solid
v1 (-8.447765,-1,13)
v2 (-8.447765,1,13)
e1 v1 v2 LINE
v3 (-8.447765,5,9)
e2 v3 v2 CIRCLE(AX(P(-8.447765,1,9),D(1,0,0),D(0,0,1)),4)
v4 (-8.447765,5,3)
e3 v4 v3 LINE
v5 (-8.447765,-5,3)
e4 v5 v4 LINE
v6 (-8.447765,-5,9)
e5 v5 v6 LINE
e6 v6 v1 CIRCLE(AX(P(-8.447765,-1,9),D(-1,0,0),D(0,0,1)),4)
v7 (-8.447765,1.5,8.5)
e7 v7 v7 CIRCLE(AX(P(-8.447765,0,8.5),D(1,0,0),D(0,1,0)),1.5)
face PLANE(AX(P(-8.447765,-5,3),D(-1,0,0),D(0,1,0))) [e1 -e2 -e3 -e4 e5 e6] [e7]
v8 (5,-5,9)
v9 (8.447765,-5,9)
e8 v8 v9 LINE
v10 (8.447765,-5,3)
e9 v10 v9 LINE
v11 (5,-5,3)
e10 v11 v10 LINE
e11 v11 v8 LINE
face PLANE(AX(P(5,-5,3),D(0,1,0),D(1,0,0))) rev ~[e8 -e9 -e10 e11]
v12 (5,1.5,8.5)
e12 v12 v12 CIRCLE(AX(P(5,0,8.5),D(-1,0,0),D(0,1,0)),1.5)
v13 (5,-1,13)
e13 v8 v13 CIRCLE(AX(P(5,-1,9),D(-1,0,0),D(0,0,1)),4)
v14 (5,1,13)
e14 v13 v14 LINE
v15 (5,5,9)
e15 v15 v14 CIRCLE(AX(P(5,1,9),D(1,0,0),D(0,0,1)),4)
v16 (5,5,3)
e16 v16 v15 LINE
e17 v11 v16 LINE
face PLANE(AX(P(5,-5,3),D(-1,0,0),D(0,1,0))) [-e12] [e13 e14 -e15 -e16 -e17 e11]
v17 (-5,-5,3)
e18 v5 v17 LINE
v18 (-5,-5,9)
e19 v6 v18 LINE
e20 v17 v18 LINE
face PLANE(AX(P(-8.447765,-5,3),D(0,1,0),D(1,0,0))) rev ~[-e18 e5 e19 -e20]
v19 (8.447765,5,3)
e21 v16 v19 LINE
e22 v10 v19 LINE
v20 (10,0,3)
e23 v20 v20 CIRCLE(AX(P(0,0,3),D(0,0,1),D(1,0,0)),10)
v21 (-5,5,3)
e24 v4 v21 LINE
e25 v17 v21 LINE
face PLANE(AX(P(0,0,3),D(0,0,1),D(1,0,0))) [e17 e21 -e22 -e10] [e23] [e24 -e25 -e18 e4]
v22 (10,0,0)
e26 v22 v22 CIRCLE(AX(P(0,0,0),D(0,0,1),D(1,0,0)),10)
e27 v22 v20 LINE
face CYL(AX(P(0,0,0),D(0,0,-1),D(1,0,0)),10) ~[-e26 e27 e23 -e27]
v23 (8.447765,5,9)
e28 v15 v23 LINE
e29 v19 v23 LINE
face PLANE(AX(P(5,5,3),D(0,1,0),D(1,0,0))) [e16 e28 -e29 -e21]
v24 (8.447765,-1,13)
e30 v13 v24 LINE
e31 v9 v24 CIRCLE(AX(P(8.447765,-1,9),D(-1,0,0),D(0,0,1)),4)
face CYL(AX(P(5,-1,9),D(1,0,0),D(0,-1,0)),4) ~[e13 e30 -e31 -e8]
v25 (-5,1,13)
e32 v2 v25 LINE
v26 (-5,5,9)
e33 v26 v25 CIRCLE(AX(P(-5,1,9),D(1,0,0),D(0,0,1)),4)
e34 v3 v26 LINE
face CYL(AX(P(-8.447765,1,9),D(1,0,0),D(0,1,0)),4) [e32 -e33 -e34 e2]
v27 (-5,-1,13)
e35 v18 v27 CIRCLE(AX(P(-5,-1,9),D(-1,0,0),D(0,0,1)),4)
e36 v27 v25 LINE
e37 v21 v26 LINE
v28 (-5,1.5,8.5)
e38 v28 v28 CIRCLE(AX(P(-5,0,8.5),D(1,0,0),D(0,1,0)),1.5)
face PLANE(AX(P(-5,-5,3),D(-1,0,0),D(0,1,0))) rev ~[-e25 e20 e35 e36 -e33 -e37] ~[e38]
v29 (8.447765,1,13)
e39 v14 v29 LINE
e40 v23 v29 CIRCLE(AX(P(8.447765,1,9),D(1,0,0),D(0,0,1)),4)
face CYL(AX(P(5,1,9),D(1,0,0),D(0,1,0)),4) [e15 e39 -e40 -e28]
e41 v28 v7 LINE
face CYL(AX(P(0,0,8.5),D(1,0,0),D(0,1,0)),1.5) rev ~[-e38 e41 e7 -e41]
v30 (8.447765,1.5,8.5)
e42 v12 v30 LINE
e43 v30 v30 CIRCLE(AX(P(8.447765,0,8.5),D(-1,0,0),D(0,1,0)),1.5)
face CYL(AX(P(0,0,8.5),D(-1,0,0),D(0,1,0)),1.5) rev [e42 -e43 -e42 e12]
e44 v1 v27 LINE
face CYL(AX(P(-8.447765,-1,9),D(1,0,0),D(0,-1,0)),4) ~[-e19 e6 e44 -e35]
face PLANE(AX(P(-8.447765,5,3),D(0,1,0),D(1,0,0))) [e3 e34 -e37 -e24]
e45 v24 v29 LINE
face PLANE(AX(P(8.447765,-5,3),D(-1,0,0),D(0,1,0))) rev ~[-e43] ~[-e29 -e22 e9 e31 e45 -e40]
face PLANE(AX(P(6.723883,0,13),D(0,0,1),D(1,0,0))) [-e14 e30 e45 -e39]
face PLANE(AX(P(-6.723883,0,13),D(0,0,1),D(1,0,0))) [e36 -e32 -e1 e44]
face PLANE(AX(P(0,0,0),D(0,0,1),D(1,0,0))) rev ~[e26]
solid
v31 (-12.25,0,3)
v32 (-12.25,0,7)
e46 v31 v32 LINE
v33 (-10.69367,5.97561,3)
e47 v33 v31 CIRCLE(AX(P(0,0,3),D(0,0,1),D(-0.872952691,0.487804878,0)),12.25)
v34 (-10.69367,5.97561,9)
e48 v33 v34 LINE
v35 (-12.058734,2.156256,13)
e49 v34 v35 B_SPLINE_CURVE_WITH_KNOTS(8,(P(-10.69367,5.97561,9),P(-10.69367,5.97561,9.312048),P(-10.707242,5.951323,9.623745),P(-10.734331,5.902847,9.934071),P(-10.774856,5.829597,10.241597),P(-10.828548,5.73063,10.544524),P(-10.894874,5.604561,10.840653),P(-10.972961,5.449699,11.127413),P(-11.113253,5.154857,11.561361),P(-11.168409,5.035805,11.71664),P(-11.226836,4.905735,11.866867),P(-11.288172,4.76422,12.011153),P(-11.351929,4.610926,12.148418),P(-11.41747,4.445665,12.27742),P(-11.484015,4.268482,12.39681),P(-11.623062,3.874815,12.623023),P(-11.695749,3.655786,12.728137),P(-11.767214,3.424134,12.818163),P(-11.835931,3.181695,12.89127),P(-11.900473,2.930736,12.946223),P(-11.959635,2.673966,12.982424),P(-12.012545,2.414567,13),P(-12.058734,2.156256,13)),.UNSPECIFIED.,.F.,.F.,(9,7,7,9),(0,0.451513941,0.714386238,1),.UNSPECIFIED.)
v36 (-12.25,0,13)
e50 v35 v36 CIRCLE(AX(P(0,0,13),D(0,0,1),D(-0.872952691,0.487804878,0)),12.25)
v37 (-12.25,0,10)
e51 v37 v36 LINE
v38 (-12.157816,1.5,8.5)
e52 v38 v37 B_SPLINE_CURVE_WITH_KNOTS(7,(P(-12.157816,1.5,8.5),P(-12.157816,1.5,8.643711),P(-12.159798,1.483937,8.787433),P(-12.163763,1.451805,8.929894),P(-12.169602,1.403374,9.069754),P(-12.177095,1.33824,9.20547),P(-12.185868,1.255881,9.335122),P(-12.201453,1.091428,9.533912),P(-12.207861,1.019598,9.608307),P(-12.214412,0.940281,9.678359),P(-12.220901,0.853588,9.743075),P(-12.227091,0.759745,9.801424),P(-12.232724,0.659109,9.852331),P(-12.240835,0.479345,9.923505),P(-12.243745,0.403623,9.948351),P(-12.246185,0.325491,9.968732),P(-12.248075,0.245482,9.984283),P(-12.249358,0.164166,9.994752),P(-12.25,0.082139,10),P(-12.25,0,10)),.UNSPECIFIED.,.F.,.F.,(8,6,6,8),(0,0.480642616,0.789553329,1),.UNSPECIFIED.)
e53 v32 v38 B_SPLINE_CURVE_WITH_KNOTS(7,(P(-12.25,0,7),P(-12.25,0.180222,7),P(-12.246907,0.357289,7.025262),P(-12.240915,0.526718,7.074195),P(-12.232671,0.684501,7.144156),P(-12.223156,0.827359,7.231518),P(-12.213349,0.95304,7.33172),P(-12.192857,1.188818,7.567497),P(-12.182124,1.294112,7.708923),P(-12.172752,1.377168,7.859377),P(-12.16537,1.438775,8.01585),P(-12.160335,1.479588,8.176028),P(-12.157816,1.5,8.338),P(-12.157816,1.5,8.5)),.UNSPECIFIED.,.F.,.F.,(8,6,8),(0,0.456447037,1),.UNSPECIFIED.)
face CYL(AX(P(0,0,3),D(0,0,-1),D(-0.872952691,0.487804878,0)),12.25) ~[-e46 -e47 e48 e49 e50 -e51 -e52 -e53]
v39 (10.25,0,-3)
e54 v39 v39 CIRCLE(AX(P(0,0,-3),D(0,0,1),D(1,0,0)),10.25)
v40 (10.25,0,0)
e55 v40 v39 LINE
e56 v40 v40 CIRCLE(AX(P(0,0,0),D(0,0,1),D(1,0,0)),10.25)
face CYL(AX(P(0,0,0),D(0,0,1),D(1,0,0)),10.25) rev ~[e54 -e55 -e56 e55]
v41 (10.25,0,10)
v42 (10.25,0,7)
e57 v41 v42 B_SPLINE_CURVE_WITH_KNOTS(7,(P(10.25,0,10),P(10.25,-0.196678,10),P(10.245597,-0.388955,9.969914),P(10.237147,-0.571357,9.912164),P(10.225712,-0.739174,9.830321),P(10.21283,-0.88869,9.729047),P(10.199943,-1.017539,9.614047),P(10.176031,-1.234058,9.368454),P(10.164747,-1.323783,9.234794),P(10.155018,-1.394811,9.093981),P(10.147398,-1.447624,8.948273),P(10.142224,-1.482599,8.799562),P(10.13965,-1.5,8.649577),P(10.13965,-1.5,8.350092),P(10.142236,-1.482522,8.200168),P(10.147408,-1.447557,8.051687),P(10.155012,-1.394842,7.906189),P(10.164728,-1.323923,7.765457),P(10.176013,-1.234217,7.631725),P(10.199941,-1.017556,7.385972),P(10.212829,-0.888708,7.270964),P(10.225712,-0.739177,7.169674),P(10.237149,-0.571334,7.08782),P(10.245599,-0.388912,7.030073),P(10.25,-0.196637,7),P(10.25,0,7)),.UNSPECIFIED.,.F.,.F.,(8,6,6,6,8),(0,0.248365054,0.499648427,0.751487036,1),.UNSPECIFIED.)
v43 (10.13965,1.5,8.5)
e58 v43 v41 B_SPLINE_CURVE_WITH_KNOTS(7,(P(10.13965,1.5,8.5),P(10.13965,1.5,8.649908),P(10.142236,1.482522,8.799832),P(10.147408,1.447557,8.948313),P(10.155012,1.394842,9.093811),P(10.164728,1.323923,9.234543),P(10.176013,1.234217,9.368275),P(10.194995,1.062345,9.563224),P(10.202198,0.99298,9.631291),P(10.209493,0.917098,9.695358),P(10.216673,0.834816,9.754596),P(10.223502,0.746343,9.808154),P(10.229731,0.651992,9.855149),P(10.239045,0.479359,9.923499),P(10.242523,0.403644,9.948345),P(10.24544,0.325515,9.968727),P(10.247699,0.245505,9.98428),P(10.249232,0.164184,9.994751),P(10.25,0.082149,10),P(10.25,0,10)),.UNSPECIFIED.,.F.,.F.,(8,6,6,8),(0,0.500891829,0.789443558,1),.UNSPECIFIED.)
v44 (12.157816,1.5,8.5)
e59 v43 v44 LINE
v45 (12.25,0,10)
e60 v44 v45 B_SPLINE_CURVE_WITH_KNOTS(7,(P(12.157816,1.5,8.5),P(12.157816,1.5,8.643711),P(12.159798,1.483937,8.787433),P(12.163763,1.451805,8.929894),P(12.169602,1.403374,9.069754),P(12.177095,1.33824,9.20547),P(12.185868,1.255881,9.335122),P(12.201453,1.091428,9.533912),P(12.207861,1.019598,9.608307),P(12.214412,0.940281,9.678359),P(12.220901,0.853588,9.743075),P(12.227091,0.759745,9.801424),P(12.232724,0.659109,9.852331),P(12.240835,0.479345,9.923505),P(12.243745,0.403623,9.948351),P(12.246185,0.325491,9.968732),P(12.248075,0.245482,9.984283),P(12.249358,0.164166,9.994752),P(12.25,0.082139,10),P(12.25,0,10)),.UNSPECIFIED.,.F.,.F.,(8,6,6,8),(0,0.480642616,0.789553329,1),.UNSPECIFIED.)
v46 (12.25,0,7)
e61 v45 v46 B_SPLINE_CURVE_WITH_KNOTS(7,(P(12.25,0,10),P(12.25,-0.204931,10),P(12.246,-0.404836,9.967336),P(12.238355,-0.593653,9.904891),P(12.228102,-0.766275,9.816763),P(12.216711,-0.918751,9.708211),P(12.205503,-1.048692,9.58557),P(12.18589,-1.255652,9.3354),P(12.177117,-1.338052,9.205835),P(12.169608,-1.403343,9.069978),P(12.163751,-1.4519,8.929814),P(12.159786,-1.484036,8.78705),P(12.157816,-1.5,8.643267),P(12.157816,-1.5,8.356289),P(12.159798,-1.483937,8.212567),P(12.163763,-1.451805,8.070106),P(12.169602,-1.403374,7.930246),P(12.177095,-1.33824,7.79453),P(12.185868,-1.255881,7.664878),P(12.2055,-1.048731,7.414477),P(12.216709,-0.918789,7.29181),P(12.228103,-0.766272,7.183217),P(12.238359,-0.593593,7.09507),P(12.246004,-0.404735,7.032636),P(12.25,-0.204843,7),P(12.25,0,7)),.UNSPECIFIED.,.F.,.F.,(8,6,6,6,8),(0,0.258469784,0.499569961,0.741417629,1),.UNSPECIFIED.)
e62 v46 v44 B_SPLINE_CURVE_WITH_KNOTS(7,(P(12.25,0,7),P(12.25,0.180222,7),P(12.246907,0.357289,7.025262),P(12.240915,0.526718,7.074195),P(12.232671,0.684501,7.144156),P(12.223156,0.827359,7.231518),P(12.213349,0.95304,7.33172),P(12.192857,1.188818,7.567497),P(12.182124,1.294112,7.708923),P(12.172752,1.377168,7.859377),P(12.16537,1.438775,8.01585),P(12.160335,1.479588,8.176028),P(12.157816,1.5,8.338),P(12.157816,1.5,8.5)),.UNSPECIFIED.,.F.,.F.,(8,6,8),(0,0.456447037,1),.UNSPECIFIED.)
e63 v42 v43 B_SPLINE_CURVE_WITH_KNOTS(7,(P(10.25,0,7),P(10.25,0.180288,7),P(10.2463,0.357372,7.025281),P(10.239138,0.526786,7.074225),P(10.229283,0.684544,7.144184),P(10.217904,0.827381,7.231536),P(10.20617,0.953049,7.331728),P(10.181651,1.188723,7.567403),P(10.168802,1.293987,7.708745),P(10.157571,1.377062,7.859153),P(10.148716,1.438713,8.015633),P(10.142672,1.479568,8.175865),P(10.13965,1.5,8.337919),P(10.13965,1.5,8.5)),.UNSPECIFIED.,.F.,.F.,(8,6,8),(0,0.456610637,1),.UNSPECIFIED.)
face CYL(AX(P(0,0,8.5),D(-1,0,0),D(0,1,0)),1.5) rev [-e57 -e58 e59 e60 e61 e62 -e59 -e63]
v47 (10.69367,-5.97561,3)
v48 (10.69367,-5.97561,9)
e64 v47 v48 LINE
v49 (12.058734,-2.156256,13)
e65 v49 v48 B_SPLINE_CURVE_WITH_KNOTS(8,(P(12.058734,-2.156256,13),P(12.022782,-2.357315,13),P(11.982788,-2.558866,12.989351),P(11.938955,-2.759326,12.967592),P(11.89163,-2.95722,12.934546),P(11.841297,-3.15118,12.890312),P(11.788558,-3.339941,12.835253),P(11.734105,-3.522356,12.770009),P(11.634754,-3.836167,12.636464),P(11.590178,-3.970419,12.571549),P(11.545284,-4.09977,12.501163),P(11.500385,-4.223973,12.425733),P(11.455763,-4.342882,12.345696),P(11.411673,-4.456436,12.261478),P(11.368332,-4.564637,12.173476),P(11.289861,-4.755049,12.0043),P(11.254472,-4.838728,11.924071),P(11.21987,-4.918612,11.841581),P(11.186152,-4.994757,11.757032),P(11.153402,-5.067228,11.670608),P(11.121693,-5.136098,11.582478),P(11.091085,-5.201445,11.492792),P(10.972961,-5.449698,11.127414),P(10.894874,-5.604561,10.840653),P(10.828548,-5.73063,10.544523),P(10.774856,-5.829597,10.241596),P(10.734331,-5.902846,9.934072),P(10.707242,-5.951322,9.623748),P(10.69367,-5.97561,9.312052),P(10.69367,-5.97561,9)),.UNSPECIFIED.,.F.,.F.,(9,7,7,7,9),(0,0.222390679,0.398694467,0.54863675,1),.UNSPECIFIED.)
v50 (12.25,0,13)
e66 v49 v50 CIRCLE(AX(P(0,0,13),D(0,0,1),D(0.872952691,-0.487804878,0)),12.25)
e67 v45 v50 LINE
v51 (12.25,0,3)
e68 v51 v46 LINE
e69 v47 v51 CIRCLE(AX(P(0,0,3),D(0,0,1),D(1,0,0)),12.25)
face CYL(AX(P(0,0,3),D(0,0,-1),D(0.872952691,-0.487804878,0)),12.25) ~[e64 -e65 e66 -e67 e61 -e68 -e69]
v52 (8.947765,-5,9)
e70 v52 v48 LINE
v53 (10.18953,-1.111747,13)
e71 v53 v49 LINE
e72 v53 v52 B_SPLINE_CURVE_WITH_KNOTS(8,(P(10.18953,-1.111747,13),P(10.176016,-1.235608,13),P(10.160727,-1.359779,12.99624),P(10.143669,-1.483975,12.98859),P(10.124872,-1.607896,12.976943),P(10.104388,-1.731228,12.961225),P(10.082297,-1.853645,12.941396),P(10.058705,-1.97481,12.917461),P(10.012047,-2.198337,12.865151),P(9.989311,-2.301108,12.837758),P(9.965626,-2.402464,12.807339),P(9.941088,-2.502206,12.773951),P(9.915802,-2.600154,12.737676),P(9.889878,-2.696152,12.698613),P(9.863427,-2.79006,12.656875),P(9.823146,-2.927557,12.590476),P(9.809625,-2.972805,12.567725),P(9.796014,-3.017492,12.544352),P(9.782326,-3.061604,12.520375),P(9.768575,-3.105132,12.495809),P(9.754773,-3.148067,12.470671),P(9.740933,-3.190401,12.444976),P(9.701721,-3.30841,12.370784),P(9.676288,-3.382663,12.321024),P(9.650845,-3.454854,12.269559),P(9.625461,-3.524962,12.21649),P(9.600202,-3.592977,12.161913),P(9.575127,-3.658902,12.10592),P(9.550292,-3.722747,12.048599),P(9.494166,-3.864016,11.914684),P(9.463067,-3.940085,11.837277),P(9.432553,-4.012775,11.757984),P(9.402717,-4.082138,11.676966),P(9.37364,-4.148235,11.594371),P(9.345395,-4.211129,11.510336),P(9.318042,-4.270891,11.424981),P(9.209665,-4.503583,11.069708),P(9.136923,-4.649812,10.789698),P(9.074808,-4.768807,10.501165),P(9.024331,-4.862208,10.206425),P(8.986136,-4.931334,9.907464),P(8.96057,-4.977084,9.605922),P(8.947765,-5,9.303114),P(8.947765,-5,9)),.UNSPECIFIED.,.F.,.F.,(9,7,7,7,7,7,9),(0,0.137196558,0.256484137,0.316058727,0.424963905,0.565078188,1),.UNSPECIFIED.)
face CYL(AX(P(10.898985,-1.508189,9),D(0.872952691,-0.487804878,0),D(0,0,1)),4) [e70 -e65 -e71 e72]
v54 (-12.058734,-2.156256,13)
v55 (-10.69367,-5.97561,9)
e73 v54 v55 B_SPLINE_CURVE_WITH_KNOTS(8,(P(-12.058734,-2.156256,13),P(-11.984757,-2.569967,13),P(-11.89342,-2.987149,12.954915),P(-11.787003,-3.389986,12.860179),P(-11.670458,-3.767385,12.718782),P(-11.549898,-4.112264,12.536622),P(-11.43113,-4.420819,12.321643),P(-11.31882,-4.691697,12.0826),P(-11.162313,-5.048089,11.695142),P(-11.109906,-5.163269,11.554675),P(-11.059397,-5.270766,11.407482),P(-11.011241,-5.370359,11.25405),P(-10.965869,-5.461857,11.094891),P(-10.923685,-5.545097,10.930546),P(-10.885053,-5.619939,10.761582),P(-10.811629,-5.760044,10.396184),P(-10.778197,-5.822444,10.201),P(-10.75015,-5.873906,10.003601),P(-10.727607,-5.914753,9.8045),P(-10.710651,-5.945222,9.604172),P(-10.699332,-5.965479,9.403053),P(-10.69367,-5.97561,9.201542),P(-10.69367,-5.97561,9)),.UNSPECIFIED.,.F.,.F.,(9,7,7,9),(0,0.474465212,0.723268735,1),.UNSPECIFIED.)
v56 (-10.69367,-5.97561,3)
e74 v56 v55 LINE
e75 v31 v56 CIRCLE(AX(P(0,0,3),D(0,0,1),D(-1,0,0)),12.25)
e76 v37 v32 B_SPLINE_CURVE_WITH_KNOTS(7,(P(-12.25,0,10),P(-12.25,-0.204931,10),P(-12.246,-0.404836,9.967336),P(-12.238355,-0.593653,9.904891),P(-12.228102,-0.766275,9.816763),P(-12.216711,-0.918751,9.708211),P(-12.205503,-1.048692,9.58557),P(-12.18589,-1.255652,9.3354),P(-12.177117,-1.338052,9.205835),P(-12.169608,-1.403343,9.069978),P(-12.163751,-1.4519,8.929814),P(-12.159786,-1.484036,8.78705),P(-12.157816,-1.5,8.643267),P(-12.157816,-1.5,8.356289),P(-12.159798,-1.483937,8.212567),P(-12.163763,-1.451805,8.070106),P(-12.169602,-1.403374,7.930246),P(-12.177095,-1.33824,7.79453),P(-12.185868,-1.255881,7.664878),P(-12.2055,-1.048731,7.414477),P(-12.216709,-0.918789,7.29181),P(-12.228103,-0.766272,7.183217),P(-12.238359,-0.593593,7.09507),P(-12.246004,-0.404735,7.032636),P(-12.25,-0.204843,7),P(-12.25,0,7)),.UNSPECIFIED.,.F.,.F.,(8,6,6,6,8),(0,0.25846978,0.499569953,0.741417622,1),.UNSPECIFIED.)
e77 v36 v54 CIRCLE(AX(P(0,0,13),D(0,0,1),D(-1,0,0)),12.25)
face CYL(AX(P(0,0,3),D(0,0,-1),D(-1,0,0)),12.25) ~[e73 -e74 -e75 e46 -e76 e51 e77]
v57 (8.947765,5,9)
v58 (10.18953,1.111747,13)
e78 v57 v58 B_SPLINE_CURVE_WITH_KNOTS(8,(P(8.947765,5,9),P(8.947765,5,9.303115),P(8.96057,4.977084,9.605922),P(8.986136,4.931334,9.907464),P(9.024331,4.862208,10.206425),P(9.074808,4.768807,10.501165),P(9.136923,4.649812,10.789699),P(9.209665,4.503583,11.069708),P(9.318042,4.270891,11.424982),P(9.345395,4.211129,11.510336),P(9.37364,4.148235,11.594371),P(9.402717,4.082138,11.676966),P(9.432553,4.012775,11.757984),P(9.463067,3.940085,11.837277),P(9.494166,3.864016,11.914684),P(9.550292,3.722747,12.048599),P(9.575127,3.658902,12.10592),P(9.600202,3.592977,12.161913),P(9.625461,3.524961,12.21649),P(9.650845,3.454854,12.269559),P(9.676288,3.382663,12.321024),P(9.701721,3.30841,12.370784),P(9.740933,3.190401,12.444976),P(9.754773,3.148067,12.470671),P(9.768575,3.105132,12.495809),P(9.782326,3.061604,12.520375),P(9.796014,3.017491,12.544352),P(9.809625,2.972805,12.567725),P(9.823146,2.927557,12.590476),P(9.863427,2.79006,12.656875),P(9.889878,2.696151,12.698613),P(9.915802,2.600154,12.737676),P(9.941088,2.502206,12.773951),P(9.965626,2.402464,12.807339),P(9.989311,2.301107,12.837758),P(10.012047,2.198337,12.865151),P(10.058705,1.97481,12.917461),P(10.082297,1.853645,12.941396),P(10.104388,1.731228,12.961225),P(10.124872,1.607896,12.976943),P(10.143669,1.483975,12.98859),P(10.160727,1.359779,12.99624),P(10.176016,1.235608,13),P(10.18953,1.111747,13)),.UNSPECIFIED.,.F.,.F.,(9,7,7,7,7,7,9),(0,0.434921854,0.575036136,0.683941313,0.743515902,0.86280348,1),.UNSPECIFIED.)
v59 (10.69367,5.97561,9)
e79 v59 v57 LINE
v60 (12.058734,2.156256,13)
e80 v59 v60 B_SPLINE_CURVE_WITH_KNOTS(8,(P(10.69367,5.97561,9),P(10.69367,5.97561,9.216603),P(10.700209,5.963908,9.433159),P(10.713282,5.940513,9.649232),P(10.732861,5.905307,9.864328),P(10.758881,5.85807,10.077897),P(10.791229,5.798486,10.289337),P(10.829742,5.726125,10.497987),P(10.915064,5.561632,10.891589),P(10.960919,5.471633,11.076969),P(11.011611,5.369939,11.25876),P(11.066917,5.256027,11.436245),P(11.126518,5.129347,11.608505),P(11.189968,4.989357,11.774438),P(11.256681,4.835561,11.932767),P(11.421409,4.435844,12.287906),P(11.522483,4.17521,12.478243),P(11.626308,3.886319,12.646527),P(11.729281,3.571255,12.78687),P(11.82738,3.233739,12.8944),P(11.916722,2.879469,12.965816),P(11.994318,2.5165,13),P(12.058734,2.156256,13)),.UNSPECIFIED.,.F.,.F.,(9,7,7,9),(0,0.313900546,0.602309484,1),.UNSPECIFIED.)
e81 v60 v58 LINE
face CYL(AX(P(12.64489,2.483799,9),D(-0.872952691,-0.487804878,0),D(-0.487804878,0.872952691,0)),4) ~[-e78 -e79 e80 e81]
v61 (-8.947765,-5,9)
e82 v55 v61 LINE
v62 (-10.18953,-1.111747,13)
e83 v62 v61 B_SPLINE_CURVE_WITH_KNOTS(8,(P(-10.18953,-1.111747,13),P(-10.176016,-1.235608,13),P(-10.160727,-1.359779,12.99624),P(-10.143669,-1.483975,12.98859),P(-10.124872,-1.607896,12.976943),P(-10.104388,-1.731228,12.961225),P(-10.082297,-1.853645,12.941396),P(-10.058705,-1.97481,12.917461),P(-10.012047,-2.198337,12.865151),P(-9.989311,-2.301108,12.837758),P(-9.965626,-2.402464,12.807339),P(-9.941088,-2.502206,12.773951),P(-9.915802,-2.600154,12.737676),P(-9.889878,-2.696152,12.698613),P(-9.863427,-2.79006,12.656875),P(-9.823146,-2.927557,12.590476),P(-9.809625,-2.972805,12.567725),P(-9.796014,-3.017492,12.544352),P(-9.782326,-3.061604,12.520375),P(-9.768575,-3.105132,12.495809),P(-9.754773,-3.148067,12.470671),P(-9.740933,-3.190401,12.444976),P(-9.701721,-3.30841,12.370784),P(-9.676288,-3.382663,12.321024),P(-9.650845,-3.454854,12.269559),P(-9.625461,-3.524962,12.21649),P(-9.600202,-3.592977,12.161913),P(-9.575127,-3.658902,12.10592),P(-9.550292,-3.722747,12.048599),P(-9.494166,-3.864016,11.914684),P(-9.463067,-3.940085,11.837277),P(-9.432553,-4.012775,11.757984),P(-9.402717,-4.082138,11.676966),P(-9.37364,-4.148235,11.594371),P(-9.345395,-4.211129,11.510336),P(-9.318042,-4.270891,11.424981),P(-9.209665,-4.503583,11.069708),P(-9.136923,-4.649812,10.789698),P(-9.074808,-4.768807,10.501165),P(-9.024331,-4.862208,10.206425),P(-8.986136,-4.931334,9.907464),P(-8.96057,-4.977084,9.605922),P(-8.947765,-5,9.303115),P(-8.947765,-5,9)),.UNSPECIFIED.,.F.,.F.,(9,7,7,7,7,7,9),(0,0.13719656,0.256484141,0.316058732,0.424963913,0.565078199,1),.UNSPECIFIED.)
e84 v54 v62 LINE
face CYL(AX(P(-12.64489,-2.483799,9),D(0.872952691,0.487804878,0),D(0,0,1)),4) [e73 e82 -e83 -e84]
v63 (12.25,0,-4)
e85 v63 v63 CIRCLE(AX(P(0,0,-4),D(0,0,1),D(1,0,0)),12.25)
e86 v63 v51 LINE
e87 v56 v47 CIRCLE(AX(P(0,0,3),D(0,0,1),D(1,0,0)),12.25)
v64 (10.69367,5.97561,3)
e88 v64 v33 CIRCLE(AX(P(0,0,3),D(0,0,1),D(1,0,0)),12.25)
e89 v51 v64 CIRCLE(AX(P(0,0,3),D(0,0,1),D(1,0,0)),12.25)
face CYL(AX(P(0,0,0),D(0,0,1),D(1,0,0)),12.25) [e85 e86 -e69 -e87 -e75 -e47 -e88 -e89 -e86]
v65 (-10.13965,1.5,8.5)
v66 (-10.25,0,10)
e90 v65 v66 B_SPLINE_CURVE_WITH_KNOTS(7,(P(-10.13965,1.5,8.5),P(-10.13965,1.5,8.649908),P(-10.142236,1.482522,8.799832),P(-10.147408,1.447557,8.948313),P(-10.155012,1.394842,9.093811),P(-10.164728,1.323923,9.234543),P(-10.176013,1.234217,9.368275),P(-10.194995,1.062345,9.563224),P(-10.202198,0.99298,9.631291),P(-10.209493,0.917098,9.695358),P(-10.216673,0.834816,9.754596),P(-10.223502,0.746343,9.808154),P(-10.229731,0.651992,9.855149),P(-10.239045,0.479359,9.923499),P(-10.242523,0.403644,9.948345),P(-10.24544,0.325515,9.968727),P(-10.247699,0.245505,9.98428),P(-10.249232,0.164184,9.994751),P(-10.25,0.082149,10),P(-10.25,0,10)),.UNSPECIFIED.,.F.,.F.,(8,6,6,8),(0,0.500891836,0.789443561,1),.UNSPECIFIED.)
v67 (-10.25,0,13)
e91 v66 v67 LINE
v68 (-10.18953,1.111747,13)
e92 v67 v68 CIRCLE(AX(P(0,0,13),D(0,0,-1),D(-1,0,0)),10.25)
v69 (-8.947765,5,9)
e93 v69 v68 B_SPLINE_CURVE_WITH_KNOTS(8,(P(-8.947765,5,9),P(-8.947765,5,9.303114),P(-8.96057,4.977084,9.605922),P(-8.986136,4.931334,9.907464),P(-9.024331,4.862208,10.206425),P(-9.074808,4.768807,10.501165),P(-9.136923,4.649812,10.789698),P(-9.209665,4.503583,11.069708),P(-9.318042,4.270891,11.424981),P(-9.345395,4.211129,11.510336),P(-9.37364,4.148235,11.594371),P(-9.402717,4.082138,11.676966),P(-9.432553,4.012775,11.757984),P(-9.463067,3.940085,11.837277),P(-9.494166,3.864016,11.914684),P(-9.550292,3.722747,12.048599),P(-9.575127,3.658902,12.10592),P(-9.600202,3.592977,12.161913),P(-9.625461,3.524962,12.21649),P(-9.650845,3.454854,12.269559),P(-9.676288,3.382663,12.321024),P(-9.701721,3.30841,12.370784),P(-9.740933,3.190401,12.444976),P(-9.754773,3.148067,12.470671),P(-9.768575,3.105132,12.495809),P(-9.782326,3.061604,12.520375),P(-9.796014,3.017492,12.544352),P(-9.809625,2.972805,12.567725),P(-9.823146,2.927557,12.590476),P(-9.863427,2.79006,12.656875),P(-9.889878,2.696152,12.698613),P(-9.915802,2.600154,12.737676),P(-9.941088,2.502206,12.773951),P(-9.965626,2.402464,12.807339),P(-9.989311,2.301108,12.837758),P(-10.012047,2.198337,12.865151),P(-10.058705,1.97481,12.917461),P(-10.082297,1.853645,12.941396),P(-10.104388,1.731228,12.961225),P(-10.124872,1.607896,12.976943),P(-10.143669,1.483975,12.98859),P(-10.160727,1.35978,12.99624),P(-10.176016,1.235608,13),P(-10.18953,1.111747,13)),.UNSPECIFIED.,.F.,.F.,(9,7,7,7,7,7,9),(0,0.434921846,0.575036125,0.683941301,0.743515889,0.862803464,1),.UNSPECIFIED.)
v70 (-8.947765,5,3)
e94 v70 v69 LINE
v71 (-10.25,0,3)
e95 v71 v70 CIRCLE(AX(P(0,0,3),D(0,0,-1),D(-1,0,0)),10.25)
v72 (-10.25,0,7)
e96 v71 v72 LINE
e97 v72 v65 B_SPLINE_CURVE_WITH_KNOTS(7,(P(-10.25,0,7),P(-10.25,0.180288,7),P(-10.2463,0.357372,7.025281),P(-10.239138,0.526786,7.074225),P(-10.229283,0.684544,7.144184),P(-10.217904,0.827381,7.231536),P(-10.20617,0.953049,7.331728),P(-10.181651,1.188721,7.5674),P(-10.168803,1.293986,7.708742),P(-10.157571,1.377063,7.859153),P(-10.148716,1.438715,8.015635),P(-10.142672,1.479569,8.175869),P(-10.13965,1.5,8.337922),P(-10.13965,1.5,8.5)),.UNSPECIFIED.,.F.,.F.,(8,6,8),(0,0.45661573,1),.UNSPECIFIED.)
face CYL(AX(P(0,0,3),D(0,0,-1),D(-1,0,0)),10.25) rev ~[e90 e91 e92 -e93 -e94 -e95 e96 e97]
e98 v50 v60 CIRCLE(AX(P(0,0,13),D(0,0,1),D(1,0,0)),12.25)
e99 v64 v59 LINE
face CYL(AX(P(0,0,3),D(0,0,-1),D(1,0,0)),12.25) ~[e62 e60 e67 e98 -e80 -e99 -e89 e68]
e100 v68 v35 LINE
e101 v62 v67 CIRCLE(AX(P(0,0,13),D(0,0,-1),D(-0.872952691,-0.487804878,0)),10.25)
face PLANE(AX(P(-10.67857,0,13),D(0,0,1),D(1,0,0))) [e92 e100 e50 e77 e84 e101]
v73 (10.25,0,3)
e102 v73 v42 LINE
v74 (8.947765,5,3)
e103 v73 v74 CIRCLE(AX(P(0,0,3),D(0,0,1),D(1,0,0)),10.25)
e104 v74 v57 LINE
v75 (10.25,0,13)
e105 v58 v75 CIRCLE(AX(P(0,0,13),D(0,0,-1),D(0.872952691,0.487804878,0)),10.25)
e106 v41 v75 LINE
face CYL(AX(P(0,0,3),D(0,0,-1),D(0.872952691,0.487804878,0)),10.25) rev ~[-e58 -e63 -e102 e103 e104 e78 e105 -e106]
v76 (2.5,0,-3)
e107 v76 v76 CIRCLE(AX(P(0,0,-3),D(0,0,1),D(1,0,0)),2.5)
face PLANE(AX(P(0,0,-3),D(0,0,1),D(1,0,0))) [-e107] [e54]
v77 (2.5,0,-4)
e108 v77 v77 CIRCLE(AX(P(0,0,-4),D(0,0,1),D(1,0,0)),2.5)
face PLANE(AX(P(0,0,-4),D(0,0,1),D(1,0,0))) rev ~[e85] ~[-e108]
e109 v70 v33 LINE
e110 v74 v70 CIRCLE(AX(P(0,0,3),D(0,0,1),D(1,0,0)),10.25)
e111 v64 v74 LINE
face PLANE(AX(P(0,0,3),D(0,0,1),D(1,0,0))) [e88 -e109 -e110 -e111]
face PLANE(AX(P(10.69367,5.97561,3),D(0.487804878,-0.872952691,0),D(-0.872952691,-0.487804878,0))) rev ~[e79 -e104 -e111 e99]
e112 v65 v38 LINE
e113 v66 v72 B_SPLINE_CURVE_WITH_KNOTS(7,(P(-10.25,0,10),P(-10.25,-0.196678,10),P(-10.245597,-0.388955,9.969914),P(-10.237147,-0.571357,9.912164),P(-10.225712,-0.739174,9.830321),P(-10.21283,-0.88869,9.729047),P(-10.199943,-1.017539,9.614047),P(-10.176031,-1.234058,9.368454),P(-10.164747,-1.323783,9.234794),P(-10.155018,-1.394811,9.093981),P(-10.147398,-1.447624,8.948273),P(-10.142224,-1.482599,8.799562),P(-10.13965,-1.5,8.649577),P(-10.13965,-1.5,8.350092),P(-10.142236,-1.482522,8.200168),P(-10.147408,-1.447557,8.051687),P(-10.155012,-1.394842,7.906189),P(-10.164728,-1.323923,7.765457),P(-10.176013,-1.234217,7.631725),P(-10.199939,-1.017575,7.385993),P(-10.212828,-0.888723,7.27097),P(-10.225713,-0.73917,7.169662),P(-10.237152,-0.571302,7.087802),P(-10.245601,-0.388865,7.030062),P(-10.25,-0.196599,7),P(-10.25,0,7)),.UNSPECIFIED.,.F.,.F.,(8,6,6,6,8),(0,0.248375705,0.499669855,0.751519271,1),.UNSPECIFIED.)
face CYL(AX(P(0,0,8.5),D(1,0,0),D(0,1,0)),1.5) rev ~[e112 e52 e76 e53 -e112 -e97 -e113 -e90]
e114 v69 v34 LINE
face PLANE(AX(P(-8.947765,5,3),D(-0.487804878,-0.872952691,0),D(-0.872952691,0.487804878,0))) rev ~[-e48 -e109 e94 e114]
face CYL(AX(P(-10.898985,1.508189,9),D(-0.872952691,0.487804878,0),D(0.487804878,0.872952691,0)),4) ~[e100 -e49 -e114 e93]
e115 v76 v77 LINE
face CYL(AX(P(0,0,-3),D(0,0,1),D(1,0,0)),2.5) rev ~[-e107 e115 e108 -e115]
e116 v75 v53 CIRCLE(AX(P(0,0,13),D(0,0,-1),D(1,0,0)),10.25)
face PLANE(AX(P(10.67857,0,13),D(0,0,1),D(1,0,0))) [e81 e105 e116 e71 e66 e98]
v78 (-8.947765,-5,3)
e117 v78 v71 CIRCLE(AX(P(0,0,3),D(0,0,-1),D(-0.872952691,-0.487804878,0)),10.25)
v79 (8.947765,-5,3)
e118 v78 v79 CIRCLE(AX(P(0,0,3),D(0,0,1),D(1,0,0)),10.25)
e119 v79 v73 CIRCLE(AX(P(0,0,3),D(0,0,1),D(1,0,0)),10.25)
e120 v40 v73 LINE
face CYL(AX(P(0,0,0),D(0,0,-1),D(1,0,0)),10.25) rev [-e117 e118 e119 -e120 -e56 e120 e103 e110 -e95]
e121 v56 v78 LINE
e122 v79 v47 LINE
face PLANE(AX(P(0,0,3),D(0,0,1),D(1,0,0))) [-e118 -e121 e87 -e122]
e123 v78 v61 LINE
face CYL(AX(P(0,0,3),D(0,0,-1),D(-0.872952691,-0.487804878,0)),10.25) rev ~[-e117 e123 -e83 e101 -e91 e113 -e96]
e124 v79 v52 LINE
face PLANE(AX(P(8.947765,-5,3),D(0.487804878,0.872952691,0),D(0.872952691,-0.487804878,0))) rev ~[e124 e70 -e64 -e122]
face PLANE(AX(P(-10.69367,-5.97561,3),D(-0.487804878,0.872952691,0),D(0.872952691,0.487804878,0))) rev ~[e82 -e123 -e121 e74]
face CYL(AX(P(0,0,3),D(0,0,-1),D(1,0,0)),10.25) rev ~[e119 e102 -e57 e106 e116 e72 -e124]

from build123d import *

# Parameters (mm, degrees)
F0_R           = 10
F1_DEPTH       = 3
F0_R_2         = 12.25
F0_R_3         = 10.25
F2_DEPTH       = 3
F2_DEPTH_BACK  = 4
F3_START       = -3
F3_DEPTH       = 1
F5_DEPTH       = 10
F6_R           = 2.5
F7_DEPTH       = 1.001
F8_W           = 3.4477650841
F8_H           = 10
F9_DEPTH       = 10
F10_R          = 4
F10_2_R        = 4
F11_R          = 1.5
F12_DEPTH      = 12.2510001
F12_DEPTH_BACK = 12.2510001


with BuildPart() as f1:
    # F0 (on Top) → F1 (new body)
    with BuildSketch(Plane.XY):
        Circle(F0_R)
    extrude(amount=F1_DEPTH)

    # F8 (on face) → F9 (join, through all)
    with BuildSketch(Plane.XY.offset(3)):
        with Locations((6.723882542, 0)):
            Rectangle(F8_W, F8_H)
        with Locations((-6.723882542, 0)):
            Rectangle(F8_W, F8_H)
    extrude(amount=F9_DEPTH)

    # F10#2
    f10_2_edges = [f1.edges().sort_by_distance(p)[0] for p in [
        (6.723883, -5, 13),
        (-6.723883, -5, 13),
        (6.723883, 5, 13),
        (-6.723883, 5, 13),
    ]]
    fillet(f10_2_edges, radius=F10_2_R)


with BuildPart() as f2:
    # F0 (on Top) → F2 (new body, two sides)
    with BuildSketch(Plane.XY) as f2_sk:
        Circle(F0_R_2)
        Circle(F0_R_3, mode=Mode.SUBTRACT)
    extrude(amount=F2_DEPTH)
    extrude(f2_sk.sketch, amount=-F2_DEPTH_BACK)

    # F0 (on Top) → F3 (join)
    with BuildSketch(Plane.XY.offset(F3_START)):
        Circle(F0_R_3)
        Circle(F0_R, mode=Mode.SUBTRACT)
        Circle(F0_R)
    extrude(amount=-F3_DEPTH)

    # F4 (on face) → F5 (join)
    with BuildSketch(Plane.XY.offset(3)):
        with BuildLine():
            ThreePointArc((-8.9477650841, -5), (-9.9191000628, -2.5833996872), (-10.25, 0))
            ThreePointArc((-10.25, 0), (-9.9191000628, 2.5833996872), (-8.9477650841, 5))
            Line((-8.9477650841, 5), (-10.6936704663, 5.9756097561))
            ThreePointArc((-10.6936704663, 5.9756097561), (-11.8545342214, 3.087477675), (-12.25, 0))
            ThreePointArc((-12.25, 0), (-11.8545342214, -3.087477675), (-10.6936704663, -5.9756097561))
            Line((-10.6936704663, -5.9756097561), (-8.9477650841, -5))
        make_face()
        with BuildLine():
            ThreePointArc((12.25, 0), (11.8545342214, 3.087477675), (10.6936704663, 5.9756097561))
            Line((10.6936704663, 5.9756097561), (8.9477650841, 5))
            ThreePointArc((8.9477650841, 5), (9.9191000628, 2.5833996872), (10.25, 0))
            ThreePointArc((10.25, 0), (9.9191000628, -2.5833996872), (8.9477650841, -5))
            Line((8.9477650841, -5), (10.6936704663, -5.9756097561))
            ThreePointArc((10.6936704663, -5.9756097561), (11.8545342214, -3.087477675), (12.25, 0))
        make_face()
    extrude(amount=F5_DEPTH)

    # F6 (on face) → F7 (cut, through all)
    with BuildSketch(Plane.XY.offset(-3)):
        Circle(F6_R)
    extrude(amount=-F7_DEPTH, mode=Mode.SUBTRACT)

    # F10
    f10_edges = [f2.edges().sort_by_distance(p)[0] for p in [
        (-9.820718, 5.487805, 13),
        (-9.820718, -5.487805, 13),
        (9.820718, -5.487805, 13),
        (9.820718, 5.487805, 13),
    ]]
    fillet(f10_edges, radius=F10_R)


with BuildPart() as f12_tool:
    # F11 (on Right) → F12 (new body, two sides)
    with BuildSketch(Plane.YZ) as f12_sk:
        with Locations((0, 8.5)):
            Circle(F11_R)
    extrude(amount=-F12_DEPTH)
    extrude(f12_sk.sketch, amount=F12_DEPTH_BACK)


with BuildPart() as f1_1:
    add(f1.part)

    # F12: cut by f12_tool
    add(f12_tool.part, mode=Mode.SUBTRACT)


with BuildPart() as f2_1:
    add(f2.part)

    # F12: cut by f12_tool
    add(f12_tool.part, mode=Mode.SUBTRACT)


solid = Compound([f1_1.part, f2_1.part])
